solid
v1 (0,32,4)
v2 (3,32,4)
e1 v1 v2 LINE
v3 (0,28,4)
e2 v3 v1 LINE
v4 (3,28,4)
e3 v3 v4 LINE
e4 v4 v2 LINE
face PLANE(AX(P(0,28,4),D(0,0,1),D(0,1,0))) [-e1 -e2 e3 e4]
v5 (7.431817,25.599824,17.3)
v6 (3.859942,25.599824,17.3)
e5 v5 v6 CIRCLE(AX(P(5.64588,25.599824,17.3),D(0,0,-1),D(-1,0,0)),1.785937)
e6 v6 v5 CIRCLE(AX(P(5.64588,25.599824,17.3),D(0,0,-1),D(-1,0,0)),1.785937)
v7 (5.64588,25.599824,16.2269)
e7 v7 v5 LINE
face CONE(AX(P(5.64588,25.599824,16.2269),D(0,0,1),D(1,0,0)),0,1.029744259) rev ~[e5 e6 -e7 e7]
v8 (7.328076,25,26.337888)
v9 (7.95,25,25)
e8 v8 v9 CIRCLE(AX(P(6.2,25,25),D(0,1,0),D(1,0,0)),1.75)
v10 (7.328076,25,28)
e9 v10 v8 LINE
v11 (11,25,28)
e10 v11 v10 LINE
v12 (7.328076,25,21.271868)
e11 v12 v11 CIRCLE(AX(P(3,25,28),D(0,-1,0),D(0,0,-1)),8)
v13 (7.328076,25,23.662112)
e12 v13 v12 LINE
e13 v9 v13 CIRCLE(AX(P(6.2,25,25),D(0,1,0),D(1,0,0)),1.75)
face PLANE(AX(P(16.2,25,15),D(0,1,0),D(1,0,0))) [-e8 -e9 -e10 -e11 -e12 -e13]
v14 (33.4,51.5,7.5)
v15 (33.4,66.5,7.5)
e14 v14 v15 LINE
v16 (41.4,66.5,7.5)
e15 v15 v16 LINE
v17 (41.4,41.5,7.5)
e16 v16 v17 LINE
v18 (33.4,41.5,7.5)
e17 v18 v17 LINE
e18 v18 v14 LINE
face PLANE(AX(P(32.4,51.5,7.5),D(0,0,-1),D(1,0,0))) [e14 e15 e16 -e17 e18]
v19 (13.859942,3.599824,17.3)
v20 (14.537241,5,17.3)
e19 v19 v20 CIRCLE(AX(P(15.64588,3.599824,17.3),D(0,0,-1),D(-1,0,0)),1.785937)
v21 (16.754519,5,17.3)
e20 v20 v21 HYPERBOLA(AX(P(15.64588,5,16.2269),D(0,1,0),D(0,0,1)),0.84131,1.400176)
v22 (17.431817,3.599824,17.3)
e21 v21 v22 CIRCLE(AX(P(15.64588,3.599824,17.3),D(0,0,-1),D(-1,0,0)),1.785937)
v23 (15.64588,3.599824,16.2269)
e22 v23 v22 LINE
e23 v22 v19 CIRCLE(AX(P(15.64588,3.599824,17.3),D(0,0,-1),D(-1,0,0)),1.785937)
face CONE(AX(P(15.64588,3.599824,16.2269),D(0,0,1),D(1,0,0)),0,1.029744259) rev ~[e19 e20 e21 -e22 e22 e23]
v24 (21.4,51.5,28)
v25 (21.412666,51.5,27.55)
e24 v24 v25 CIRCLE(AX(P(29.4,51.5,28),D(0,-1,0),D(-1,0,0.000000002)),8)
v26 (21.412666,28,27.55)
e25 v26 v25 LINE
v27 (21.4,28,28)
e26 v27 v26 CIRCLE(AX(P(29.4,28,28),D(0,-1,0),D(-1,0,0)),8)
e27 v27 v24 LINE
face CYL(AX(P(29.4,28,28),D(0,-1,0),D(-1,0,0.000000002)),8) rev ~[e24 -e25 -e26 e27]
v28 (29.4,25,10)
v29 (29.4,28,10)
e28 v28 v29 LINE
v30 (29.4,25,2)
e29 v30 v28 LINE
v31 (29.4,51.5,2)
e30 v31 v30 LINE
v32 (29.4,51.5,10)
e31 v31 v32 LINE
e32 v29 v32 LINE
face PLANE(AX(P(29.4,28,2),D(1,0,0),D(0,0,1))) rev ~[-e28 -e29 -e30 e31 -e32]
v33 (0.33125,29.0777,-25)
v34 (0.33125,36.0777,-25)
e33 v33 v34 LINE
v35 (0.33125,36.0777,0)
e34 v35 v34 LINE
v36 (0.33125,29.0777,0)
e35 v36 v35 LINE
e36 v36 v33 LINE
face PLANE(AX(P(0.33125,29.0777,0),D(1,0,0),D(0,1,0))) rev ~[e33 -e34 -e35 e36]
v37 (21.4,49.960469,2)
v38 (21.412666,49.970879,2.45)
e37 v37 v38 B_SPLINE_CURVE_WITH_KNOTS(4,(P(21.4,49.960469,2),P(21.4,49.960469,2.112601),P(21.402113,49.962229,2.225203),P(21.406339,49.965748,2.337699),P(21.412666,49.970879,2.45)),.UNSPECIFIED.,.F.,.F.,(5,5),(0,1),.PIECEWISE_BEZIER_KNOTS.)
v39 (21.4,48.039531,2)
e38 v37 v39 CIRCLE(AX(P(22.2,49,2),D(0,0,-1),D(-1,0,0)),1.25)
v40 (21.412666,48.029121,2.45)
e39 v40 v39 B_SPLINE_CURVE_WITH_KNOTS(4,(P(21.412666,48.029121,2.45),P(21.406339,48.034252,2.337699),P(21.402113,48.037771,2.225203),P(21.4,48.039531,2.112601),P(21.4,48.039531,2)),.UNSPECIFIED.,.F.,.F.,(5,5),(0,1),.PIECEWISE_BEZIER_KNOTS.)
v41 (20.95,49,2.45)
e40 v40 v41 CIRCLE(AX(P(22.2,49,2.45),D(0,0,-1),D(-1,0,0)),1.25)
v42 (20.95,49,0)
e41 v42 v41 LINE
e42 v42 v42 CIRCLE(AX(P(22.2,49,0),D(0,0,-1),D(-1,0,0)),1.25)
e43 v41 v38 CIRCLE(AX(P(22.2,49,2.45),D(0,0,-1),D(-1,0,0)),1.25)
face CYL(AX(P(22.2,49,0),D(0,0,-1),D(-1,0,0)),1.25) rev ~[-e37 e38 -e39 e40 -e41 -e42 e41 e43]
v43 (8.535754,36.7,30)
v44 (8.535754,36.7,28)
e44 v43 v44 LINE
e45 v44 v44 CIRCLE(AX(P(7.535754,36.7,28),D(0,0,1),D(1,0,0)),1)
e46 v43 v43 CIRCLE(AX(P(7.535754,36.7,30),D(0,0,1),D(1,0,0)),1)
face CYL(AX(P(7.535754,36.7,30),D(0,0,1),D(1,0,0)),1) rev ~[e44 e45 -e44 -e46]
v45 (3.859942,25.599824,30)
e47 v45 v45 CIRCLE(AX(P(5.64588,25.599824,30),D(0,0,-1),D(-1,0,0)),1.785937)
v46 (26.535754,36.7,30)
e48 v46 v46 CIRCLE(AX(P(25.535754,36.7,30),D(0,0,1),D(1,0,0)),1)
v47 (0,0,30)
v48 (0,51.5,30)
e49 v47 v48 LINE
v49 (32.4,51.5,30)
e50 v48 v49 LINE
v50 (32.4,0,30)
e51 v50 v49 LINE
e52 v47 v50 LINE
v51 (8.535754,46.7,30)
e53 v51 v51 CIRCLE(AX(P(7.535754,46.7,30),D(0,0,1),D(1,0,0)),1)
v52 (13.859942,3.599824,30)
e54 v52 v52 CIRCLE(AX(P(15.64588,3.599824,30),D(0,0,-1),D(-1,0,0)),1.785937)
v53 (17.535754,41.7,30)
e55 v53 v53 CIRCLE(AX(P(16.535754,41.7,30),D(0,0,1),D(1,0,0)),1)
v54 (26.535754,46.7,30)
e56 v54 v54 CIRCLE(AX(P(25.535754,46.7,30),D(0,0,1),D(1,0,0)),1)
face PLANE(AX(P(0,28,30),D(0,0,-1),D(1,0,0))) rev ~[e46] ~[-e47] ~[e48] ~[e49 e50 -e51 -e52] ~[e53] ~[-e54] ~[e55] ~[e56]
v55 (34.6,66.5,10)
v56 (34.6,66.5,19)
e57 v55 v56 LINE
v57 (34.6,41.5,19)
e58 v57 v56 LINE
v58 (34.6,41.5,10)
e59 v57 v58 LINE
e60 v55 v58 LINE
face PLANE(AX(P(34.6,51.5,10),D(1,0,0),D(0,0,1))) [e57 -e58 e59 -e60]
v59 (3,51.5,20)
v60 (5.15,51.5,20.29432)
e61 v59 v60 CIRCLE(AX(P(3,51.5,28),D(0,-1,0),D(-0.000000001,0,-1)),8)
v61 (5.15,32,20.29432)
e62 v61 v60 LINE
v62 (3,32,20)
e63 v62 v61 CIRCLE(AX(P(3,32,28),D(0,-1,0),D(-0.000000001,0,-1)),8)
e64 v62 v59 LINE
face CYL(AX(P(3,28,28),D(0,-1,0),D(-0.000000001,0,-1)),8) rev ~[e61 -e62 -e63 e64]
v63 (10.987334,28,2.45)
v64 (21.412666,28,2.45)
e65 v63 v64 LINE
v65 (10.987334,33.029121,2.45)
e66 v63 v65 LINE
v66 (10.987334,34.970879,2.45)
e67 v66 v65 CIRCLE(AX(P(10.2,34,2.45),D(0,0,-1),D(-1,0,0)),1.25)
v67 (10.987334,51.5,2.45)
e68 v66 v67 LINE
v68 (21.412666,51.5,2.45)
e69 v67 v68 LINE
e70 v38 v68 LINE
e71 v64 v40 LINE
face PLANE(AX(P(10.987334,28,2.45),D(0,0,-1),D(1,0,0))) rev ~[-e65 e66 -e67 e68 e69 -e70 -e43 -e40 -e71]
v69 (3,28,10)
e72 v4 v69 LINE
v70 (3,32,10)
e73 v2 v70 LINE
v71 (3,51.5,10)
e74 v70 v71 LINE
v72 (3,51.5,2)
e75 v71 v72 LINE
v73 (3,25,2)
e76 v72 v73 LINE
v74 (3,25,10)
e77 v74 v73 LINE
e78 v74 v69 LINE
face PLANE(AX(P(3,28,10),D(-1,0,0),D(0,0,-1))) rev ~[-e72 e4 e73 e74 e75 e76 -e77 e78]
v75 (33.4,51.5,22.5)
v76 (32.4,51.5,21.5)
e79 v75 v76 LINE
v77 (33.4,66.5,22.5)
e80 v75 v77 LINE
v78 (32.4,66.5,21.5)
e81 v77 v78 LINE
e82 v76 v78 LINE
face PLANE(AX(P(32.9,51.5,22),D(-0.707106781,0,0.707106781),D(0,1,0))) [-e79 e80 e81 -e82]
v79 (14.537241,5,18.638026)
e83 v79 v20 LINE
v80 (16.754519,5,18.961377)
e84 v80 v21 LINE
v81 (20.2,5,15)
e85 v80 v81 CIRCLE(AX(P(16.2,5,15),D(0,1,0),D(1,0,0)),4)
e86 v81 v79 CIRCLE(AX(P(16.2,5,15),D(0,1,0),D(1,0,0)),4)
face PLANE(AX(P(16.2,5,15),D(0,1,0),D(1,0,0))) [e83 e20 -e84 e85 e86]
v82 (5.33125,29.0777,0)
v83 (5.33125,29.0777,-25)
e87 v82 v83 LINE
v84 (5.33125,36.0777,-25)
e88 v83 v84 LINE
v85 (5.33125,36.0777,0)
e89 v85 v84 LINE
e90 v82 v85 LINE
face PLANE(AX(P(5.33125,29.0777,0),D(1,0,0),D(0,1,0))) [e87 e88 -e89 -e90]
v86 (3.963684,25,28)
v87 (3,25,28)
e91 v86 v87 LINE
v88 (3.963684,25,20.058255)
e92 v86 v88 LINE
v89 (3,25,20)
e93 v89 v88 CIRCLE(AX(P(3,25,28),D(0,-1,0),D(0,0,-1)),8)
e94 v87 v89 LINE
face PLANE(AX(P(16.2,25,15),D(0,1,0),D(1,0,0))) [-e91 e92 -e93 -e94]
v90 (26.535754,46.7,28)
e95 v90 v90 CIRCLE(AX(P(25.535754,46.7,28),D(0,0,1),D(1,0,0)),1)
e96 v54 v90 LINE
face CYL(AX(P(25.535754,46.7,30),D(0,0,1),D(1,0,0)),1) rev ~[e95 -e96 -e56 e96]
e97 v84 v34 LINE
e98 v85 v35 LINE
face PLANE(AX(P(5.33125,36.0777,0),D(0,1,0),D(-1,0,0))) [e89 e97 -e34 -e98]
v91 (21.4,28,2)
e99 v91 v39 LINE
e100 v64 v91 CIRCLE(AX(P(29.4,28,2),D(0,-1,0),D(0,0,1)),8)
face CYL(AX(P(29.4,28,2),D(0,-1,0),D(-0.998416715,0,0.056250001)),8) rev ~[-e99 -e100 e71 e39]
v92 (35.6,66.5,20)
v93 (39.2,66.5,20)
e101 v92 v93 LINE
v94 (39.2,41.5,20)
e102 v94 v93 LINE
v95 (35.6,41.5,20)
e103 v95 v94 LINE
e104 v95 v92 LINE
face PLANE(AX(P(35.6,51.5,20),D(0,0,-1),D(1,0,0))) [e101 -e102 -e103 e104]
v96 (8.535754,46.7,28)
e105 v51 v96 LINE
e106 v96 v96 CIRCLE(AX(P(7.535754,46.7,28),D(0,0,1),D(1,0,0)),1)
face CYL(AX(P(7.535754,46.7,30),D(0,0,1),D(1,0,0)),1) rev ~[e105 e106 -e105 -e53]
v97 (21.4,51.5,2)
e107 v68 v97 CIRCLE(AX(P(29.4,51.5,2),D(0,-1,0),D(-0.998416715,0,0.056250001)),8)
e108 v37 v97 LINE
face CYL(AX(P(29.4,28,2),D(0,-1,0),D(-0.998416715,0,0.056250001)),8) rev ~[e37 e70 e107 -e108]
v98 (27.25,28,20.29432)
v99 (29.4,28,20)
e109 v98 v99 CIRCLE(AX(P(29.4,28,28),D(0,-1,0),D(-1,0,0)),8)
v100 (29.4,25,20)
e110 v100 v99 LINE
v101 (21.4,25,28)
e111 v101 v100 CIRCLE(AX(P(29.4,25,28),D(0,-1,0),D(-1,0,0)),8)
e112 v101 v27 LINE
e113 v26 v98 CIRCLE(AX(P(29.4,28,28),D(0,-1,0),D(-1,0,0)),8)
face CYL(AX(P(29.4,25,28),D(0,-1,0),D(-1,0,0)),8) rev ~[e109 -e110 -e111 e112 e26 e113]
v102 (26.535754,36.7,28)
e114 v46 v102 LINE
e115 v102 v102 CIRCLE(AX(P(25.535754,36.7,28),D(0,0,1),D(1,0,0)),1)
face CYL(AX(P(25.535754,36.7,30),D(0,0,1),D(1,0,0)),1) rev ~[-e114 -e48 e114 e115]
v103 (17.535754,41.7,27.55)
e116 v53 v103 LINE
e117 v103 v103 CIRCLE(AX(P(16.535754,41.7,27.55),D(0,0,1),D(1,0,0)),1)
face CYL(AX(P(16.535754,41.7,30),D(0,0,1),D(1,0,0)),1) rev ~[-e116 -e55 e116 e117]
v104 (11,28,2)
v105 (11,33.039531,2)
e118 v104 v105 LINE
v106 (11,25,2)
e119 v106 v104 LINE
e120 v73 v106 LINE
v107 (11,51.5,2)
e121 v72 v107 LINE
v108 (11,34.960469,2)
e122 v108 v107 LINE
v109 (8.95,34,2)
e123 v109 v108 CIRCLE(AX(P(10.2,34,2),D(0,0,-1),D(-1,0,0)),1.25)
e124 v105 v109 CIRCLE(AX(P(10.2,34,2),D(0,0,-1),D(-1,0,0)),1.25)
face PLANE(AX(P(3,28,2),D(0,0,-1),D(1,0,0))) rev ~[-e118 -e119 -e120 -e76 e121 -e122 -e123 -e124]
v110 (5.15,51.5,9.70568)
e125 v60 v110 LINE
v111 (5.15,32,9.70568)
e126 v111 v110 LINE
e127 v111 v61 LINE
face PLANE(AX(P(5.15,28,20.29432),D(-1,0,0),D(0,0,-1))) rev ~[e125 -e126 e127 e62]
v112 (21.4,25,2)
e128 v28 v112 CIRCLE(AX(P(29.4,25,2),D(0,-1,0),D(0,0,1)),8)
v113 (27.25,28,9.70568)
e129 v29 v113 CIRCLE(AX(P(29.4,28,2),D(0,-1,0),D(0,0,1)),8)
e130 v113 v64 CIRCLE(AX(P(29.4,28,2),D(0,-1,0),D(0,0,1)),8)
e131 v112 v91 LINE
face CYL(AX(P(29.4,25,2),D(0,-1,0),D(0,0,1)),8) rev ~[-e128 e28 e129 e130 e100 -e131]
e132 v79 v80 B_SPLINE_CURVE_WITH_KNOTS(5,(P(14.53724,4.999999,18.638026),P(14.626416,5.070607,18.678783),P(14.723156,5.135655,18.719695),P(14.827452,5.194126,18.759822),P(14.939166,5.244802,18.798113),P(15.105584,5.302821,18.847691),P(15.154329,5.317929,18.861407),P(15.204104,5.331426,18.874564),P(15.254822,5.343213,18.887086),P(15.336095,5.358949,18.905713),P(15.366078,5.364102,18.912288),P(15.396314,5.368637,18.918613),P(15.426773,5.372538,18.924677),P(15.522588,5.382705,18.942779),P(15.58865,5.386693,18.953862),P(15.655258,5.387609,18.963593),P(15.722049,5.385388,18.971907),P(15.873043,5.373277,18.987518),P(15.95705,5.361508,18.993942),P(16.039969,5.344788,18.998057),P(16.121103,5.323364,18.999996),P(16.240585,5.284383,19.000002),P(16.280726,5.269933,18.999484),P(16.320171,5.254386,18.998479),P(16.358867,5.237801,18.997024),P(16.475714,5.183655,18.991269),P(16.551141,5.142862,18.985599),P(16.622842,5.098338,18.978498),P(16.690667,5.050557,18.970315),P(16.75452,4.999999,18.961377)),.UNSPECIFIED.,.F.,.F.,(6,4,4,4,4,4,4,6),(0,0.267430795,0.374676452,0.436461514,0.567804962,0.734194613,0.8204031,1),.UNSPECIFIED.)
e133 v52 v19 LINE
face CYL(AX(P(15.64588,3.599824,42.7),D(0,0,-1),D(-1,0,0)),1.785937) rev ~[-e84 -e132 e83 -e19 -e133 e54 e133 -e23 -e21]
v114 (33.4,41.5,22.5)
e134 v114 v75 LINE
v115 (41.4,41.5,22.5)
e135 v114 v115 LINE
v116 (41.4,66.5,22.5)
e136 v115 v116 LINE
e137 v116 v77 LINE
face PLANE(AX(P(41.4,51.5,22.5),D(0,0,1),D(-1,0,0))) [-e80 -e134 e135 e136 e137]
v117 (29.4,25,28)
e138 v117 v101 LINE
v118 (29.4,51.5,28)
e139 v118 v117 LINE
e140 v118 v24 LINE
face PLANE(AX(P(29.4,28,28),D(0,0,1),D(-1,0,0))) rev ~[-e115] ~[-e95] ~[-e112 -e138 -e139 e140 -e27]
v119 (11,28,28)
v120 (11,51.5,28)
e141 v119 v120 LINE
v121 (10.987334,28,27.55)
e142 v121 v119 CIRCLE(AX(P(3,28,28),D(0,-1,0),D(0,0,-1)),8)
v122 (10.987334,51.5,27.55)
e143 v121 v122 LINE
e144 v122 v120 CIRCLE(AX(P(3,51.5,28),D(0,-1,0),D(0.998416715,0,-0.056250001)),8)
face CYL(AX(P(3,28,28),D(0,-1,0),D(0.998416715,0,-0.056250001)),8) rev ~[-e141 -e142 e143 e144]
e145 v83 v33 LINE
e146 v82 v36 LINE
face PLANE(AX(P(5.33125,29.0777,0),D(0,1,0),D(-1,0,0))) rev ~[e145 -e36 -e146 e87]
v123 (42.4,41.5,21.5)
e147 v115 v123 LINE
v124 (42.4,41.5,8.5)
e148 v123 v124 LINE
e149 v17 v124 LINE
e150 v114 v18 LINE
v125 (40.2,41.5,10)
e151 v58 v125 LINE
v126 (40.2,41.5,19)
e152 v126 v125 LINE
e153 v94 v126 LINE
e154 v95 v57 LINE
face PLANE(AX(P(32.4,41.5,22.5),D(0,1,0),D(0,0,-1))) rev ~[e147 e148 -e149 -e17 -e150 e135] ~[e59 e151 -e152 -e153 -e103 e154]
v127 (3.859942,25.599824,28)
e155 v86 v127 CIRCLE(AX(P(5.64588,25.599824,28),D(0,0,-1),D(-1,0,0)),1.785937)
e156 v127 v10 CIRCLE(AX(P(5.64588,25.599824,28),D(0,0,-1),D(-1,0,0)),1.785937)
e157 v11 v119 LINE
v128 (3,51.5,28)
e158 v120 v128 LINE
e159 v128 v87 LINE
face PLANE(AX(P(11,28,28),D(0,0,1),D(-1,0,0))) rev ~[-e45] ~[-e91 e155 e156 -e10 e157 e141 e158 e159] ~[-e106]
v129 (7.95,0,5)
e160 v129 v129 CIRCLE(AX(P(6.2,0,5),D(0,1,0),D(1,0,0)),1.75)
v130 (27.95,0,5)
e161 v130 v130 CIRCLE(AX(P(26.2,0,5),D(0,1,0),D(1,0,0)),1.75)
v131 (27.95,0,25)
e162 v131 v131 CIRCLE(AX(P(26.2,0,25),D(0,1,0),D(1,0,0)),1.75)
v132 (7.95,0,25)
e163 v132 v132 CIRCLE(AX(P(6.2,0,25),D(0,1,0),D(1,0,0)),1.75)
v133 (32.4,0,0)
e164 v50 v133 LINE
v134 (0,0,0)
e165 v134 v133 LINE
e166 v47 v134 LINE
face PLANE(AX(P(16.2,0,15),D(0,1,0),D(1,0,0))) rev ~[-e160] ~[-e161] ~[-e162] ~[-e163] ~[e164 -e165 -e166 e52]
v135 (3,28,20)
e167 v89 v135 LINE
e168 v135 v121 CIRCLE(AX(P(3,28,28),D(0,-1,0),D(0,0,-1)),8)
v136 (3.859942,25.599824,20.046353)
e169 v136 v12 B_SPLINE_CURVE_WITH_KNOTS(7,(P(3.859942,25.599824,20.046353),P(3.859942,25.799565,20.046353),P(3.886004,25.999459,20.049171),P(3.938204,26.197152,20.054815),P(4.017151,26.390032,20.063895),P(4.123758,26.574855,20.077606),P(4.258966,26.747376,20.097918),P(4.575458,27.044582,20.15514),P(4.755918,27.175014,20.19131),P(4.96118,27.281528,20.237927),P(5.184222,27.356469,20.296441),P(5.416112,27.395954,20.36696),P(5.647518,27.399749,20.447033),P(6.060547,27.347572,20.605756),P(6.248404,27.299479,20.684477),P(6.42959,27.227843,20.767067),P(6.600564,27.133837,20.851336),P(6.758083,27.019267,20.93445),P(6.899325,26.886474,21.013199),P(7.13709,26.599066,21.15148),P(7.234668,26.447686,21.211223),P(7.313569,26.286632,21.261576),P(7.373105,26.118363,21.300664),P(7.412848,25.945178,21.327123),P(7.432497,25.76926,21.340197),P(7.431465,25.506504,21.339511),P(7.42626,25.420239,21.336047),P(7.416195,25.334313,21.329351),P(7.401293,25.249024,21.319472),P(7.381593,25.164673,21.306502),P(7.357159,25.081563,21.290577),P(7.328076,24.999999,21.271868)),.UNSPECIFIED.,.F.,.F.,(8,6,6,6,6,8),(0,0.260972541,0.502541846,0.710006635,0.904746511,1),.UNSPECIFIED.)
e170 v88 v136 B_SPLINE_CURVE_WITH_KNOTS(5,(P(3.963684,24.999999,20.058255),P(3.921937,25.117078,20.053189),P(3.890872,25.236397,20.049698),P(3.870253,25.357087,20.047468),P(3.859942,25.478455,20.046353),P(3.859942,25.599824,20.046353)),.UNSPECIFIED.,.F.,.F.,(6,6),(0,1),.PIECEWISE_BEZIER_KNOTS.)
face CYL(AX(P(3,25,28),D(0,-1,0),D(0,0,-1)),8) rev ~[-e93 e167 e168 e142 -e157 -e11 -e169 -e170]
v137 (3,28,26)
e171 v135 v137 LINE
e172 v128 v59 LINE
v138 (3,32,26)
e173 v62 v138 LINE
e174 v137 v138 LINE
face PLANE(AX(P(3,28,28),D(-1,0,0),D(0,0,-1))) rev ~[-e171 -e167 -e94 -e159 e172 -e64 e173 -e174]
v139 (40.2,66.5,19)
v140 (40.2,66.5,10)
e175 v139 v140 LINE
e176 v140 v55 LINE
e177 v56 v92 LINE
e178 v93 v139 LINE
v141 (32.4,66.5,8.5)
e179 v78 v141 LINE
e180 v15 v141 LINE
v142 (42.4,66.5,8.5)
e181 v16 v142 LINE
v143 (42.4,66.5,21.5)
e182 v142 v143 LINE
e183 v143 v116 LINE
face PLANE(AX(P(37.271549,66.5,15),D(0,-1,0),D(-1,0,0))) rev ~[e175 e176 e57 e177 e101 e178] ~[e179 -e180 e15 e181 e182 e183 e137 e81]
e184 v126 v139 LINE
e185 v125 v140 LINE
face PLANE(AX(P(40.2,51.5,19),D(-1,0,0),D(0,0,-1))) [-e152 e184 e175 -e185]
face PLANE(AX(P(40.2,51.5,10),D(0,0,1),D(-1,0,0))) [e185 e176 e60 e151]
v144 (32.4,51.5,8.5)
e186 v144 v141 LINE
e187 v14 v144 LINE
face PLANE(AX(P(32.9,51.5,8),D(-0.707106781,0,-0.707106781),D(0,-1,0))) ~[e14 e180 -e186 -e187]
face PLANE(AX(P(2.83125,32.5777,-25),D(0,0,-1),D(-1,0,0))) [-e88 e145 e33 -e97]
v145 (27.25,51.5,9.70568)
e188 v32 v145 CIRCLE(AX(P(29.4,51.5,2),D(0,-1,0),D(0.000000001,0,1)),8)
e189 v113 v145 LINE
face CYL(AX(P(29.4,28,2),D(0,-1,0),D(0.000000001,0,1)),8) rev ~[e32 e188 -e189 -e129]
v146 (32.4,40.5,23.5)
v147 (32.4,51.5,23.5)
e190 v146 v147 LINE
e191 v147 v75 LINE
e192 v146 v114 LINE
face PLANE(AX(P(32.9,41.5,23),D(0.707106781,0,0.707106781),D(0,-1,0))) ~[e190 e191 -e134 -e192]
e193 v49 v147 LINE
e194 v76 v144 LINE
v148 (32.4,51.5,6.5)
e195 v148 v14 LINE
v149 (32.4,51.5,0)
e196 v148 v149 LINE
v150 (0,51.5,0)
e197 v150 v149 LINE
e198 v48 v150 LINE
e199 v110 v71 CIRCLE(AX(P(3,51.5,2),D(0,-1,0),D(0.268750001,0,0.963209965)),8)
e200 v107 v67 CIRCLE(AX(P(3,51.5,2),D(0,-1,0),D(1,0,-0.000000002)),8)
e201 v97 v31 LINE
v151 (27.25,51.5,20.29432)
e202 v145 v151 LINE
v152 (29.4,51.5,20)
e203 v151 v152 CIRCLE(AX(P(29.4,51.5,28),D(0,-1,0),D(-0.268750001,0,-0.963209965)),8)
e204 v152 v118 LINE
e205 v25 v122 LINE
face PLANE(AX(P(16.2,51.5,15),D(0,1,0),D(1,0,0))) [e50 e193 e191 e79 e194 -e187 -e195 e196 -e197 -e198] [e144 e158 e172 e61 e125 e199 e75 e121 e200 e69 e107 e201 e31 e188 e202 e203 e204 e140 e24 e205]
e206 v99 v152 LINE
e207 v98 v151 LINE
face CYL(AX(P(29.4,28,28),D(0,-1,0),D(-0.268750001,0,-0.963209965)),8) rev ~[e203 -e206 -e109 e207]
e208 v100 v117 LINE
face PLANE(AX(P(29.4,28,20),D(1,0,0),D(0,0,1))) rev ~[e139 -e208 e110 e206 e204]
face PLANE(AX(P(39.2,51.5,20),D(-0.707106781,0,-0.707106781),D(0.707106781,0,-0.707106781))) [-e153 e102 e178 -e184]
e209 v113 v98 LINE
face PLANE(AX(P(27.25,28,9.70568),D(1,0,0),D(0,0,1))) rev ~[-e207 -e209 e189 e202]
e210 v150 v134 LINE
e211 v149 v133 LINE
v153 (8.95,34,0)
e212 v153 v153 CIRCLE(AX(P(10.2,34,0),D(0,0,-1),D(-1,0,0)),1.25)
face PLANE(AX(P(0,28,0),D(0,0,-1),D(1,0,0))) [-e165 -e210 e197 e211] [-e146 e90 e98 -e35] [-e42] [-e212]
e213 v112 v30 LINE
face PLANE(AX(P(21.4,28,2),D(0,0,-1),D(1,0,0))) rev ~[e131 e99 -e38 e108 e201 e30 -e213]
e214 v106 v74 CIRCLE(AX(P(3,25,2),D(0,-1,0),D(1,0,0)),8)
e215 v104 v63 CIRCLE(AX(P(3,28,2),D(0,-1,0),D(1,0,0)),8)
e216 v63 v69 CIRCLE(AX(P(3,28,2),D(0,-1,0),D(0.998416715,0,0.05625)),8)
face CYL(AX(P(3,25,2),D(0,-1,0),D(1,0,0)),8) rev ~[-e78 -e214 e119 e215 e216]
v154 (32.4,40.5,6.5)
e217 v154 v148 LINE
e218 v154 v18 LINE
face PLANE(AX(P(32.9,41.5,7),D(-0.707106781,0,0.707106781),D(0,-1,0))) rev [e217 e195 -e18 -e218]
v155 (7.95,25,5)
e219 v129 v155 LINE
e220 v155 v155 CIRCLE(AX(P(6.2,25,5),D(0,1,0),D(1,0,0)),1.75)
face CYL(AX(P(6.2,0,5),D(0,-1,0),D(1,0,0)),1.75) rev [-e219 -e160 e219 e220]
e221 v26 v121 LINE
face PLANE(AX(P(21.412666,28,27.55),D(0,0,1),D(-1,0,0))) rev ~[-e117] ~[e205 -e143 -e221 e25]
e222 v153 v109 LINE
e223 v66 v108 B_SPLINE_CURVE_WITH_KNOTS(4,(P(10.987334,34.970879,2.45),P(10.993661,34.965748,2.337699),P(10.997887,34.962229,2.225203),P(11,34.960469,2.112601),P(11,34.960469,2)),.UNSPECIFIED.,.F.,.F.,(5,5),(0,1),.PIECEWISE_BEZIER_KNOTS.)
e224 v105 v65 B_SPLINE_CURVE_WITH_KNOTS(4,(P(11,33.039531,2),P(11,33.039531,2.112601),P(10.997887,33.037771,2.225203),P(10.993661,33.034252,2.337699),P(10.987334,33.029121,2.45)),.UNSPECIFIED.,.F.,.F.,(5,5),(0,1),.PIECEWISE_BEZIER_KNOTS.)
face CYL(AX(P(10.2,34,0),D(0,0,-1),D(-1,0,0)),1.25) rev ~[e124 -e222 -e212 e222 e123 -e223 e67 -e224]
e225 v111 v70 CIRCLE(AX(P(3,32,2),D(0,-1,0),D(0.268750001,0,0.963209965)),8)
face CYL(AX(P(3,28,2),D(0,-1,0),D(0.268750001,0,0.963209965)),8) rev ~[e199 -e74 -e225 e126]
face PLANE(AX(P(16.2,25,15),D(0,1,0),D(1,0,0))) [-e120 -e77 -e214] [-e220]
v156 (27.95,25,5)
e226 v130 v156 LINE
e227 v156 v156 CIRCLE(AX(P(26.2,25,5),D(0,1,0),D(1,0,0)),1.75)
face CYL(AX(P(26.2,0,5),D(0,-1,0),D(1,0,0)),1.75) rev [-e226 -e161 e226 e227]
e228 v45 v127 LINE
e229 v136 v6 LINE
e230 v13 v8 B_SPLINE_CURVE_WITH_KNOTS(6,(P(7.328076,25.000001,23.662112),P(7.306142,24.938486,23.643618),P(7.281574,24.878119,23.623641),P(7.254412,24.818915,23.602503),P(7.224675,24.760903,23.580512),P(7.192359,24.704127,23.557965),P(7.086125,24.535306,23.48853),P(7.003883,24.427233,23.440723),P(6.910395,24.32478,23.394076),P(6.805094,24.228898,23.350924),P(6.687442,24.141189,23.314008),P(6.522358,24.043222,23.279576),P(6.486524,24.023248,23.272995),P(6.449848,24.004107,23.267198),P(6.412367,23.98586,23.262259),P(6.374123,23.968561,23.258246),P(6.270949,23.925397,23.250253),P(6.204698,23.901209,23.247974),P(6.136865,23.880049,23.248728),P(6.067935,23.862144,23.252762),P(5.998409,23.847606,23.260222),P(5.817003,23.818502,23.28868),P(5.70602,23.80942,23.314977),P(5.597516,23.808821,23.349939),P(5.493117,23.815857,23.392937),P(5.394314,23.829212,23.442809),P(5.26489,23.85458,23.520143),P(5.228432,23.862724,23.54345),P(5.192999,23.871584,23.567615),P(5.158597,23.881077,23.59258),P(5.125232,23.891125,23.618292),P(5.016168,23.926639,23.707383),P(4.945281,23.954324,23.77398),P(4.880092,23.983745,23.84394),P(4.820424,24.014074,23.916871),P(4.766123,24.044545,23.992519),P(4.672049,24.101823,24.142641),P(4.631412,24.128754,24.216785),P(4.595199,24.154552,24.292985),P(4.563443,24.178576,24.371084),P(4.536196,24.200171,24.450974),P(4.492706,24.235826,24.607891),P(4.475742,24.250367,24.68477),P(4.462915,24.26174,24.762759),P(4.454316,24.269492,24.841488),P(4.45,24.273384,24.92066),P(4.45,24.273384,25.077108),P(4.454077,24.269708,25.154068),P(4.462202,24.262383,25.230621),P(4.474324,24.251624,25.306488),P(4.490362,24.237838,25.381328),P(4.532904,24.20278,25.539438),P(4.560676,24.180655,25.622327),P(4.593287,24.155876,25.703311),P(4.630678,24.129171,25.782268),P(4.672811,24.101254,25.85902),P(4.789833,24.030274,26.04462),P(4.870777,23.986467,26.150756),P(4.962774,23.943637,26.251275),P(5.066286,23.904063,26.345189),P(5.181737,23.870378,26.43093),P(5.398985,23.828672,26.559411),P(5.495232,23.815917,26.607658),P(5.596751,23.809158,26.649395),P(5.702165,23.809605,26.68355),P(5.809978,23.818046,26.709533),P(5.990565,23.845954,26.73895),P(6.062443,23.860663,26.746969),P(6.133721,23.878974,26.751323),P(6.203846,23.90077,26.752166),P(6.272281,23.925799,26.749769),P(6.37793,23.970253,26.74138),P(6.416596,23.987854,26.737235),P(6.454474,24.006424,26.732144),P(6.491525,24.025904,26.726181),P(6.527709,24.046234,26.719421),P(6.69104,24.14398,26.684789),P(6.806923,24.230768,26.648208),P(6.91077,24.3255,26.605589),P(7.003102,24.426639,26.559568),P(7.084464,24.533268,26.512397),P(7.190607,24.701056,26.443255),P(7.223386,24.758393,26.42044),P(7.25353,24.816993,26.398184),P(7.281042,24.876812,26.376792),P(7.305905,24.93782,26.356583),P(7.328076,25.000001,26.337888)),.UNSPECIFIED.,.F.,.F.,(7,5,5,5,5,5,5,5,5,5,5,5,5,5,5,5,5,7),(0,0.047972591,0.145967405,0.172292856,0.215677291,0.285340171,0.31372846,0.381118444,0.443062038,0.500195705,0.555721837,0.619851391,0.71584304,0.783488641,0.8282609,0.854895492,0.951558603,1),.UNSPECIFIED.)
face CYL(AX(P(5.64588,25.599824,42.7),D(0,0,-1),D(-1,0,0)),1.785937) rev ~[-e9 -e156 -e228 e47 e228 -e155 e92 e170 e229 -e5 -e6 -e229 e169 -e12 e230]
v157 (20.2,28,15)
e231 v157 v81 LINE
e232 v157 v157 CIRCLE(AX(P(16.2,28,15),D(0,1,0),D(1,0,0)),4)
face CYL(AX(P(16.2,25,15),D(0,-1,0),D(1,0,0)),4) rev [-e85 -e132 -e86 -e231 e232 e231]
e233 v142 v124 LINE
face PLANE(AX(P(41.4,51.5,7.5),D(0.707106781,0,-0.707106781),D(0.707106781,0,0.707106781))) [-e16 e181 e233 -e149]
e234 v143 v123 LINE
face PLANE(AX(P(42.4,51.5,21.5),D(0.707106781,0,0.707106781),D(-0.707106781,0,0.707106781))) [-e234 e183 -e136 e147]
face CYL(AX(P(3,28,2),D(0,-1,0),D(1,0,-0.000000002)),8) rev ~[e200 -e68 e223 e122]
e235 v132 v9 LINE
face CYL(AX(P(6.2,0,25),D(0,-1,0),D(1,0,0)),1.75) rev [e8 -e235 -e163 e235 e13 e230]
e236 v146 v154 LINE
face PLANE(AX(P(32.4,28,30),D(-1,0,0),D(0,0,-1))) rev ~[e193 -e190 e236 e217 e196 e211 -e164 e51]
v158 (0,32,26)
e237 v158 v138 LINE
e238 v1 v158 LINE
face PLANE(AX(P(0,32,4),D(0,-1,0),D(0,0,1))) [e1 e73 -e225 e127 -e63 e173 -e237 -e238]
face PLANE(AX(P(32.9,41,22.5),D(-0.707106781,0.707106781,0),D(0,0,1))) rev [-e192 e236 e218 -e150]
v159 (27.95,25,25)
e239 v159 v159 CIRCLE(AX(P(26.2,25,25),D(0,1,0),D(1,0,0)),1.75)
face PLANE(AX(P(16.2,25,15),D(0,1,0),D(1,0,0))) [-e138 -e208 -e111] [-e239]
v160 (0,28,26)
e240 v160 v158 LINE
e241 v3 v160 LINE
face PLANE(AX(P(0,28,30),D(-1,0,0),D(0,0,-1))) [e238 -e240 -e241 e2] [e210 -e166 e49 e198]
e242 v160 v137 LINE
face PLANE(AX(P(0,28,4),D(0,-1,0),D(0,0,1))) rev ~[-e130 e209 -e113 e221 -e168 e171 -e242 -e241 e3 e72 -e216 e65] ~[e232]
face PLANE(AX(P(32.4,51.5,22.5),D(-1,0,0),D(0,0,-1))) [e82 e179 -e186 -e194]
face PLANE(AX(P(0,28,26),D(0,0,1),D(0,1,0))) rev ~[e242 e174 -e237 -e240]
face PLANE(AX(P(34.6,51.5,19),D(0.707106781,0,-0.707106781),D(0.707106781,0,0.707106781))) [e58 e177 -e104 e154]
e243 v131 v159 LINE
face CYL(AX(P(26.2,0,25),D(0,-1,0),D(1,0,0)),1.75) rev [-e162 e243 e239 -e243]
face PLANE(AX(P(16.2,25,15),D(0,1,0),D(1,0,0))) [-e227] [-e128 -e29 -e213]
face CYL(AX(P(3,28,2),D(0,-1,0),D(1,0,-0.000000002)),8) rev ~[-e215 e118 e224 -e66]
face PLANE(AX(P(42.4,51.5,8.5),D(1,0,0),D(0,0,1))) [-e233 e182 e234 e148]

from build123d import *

# Parameters (mm, degrees)
SKETCH1_W                         = 32.4
SKETCH1_H                         = 30
SKETCH1_R                         = 1.75
BOSS_EXTRUDE1_DEPTH               = 25
SKETCH2_R                         = 4
CUT_EXTRUDE1_DEPTH                = 20
SKETCH3_W                         = 32.4
SKETCH3_H                         = 30
SKETCH3_R                         = 4
BOSS_EXTRUDE2_DEPTH               = 3
SKETCH4_W                         = 32.4
SKETCH4_H                         = 30
BOSS_EXTRUDE3_DEPTH               = 23.5
SKETCH5_R                         = 1.25
CUT_EXTRUDE2_DEPTH                = 2.45
SKETCH6_W                         = 22
SKETCH6_H                         = 4
CUT_EXTRUDE3_DEPTH                = 5.15
SKETCH7_W                         = 15
SKETCH7_H                         = 10
BOSS_EXTRUDE4_DEPTH               = 10
SKETCH8_W                         = 5.6
SKETCH8_H                         = 10
CUT_EXTRUDE4_DEPTH                = 15
CHAMFER1_SIZE                     = 1
SKETCH11_R                        = 1
CUT_EXTRUDE5_DEPTH                = 5
CHAMFER3_SIZE                     = 1
BOSS_EXTRUDE6_DEPTH               = 15
CHAMFER5_SIZE                     = 1
F_3_32_0_140625_DOWEL_HOLE1_D     = 3.571875
F_3_32_0_140625_DOWEL_HOLE1_DEPTH = 12.7
F_3_32_0_140625_DOWEL_HOLE1_TIP   = 1.073099512
SKETCH19_W                        = 5
SKETCH19_H                        = 7
BOSS_EXTRUDE7_DEPTH               = 25


with BuildPart() as part:
    # Sketch1 → Boss-Extrude1 (new body)
    with BuildSketch(Plane(origin=(0, 0, 0), x_dir=(1, 0, 0), z_dir=(0, 1, 0))):
        with Locations((16.2, -15)):
            Rectangle(SKETCH1_W, SKETCH1_H)
        with Locations((6.2, -5)):
            Circle(SKETCH1_R, mode=Mode.SUBTRACT)
        with Locations((26.2, -5)):
            Circle(SKETCH1_R, mode=Mode.SUBTRACT)
        with Locations((26.2, -25)):
            Circle(SKETCH1_R, mode=Mode.SUBTRACT)
        with Locations((6.2, -25)):
            Circle(SKETCH1_R, mode=Mode.SUBTRACT)
    extrude(amount=BOSS_EXTRUDE1_DEPTH)

    # Sketch2 → Cut-Extrude1 (cut)
    with BuildSketch(Plane(origin=(0, 25, 0), x_dir=(1, 0, 0), z_dir=(0, 1, 0))):
        with Locations((16.2, -15)):
            Circle(SKETCH2_R)
    extrude(amount=-CUT_EXTRUDE1_DEPTH, mode=Mode.SUBTRACT)

    # Sketch3 → Boss-Extrude2 (add)
    with BuildSketch(Plane(origin=(0, 25, 0), x_dir=(1, 0, 0), z_dir=(0, 1, 0))):
        with Locations((16.2, -15)):
            Rectangle(SKETCH3_W, SKETCH3_H)
        Polygon((3, -20), (3, -10), (3, -2), (11, -2), (21.4, -2), (29.4, -2), (29.4, -10), (29.4, -20), (29.4, -28), (21.4, -28), (11, -28), (3, -28), align=None, mode=Mode.SUBTRACT)
        with BuildLine():
            ThreePointArc((11, -2), (8.656854249, -7.656854249), (3, -10))
            Line((3, -10), (3, -20))
            ThreePointArc((3, -20), (8.656854249, -22.343145751), (11, -28))
            Line((11, -28), (21.4, -28))
            ThreePointArc((21.4, -28), (23.743145751, -22.343145751), (29.4, -20))
            Line((29.4, -20), (29.4, -10))
            ThreePointArc((29.4, -10), (23.743145751, -7.656854249), (21.4, -2))
            Line((21.4, -2), (11, -2))
        make_face()
        with Locations((16.2, -15)):
            Circle(SKETCH3_R, mode=Mode.SUBTRACT)
    extrude(amount=BOSS_EXTRUDE2_DEPTH)

    # Sketch4 → Boss-Extrude3 (add)
    with BuildSketch(Plane(origin=(0, 28, 0), x_dir=(1, 0, 0), z_dir=(0, 1, 0))):
        with Locations((16.2, -15)):
            Rectangle(SKETCH4_W, SKETCH4_H)
        with BuildLine():
            Line((5.15, -20.294320277), (5.15, -9.705679723))
            ThreePointArc((5.15, -9.705679723), (4.085025855, -9.926078406), (3, -10))
            Line((3, -10), (3, -2))
            Line((3, -2), (11, -2))
            ThreePointArc((11, -2), (10.996832804, -2.225089113), (10.987333723, -2.45))
            Line((10.987333723, -2.45), (21.412666277, -2.45))
            ThreePointArc((21.412666277, -2.45), (21.403167196, -2.225089113), (21.4, -2))
            Line((21.4, -2), (29.4, -2))
            Line((29.4, -2), (29.4, -10))
            ThreePointArc((29.4, -10), (28.314974145, -9.926078406), (27.25, -9.705679723))
            Line((27.25, -9.705679723), (27.25, -20.294320277))
            ThreePointArc((27.25, -20.294320277), (28.314974145, -20.073921594), (29.4, -20))
            Line((29.4, -20), (29.4, -28))
            Line((29.4, -28), (21.4, -28))
            ThreePointArc((21.4, -28), (21.403167196, -27.774910887), (21.412666277, -27.55))
            Line((21.412666277, -27.55), (10.987333723, -27.55))
            ThreePointArc((10.987333723, -27.55), (10.996832804, -27.774910887), (11, -28))
            Line((11, -28), (3, -28))
            Line((3, -28), (3, -20))
            ThreePointArc((3, -20), (4.085025855, -20.073921594), (5.15, -20.294320277))
        make_face(mode=Mode.SUBTRACT)
    extrude(amount=BOSS_EXTRUDE3_DEPTH)

    # Sketch5 → Cut-Extrude2 (cut)
    with BuildSketch(Plane(origin=(0, 0, 0), x_dir=(-1, 0, 0), z_dir=(0, 0, -1))):
        with Locations((-22.2, 49)):
            Circle(SKETCH5_R)
        with Locations((-10.2, 34)):
            Circle(SKETCH5_R)
    extrude(amount=-CUT_EXTRUDE2_DEPTH, mode=Mode.SUBTRACT)

    # Sketch6 → Cut-Extrude3 (cut)
    with BuildSketch(Plane.ZY):
        with Locations((15, 30)):
            Rectangle(SKETCH6_W, SKETCH6_H)
    extrude(amount=-CUT_EXTRUDE3_DEPTH, mode=Mode.SUBTRACT)

    # Sketch7 → Boss-Extrude4 (add)
    with BuildSketch(Plane(origin=(32.4, 0, 0), x_dir=(0, 0, -1), z_dir=(1, 0, 0))):
        with Locations((-15, 46.5)):
            Rectangle(SKETCH7_W, SKETCH7_H)
    extrude(amount=BOSS_EXTRUDE4_DEPTH)

    # Sketch8 → Cut-Extrude4 (cut)
    with BuildSketch(Plane(origin=(0, 51.5, 0), x_dir=(1, 0, 0), z_dir=(0, 1, 0))):
        with Locations((37.4, -15)):
            Rectangle(SKETCH8_W, SKETCH8_H)
    extrude(amount=-CUT_EXTRUDE4_DEPTH, mode=Mode.SUBTRACT)

    # Chamfer1
    chamfer1_edges = [part.edges().sort_by_distance(p)[0] for p in [
        (34.6, 46.5, 20),
        (40.2, 46.5, 20),
    ]]
    chamfer(chamfer1_edges, length=CHAMFER1_SIZE)

    # Sketch11 → Cut-Extrude5 (cut)
    with BuildSketch(Plane.XY.offset(30)):
        with Locations((7.535754107, 46.7)):
            Circle(SKETCH11_R)
        with Locations((25.535754107, 46.7)):
            Circle(SKETCH11_R)
        with Locations((7.535754107, 36.7)):
            Circle(SKETCH11_R)
        with Locations((25.535754107, 36.7)):
            Circle(SKETCH11_R)
        with Locations((16.535754107, 41.7)):
            Circle(SKETCH11_R)
    extrude(amount=-CUT_EXTRUDE5_DEPTH, mode=Mode.SUBTRACT)

    # Chamfer3
    chamfer3_edges = [part.edges().sort_by_distance(p)[0] for p in [
        (32.4, 46.5, 7.5),
        (32.4, 46.5, 22.5),
        (32.4, 41.5, 15),
        (42.4, 46.5, 7.5),
        (42.4, 46.5, 22.5),
    ]]
    chamfer(chamfer3_edges, length=CHAMFER3_SIZE)

    # Sketch15 → Boss-Extrude6 (add)
    with BuildSketch(Plane(origin=(0, 51.5, 0), x_dir=(1, 0, 0), z_dir=(0, 1, 0))):
        Polygon((32.4, -7.5), (41.4, -7.5), (42.4, -8.5), (42.4, -21.5), (41.4, -22.5), (32.4, -22.5), align=None)
        Polygon((34.6, -10), (34.6, -19), (35.6, -20), (39.2, -20), (40.2, -19), (40.2, -10), align=None, mode=Mode.SUBTRACT)
    extrude(amount=BOSS_EXTRUDE6_DEPTH)

    # Chamfer5
    chamfer5_edges = [part.edges().sort_by_distance(p)[0] for p in [
        (32.4, 59, 7.5),
        (32.4, 59, 22.5),
    ]]
    chamfer(chamfer5_edges, length=CHAMFER5_SIZE)

    # 3/32 (0.140625) Dowel Hole1
    with Locations(Plane.XY.offset(30)):
        with Locations((5.645879952, 25.599824203), (15.645879952, 3.599824203)):
            Hole(F_3_32_0_140625_DOWEL_HOLE1_D / 2, depth=F_3_32_0_140625_DOWEL_HOLE1_DEPTH)
            with Locations((0, 0, -(F_3_32_0_140625_DOWEL_HOLE1_DEPTH + F_3_32_0_140625_DOWEL_HOLE1_TIP / 2))):  # 118° drill point
                Cone(0, F_3_32_0_140625_DOWEL_HOLE1_D / 2, F_3_32_0_140625_DOWEL_HOLE1_TIP, mode=Mode.SUBTRACT)

    # Sketch19 → Boss-Extrude7 (add)
    with BuildSketch(Plane(origin=(0, 0, 0), x_dir=(-1, 0, 0), z_dir=(0, 0, -1))):
        with Locations((-2.83125, 32.5777)):
            Rectangle(SKETCH19_W, SKETCH19_H)
    extrude(amount=BOSS_EXTRUDE7_DEPTH)


solid = part.part
